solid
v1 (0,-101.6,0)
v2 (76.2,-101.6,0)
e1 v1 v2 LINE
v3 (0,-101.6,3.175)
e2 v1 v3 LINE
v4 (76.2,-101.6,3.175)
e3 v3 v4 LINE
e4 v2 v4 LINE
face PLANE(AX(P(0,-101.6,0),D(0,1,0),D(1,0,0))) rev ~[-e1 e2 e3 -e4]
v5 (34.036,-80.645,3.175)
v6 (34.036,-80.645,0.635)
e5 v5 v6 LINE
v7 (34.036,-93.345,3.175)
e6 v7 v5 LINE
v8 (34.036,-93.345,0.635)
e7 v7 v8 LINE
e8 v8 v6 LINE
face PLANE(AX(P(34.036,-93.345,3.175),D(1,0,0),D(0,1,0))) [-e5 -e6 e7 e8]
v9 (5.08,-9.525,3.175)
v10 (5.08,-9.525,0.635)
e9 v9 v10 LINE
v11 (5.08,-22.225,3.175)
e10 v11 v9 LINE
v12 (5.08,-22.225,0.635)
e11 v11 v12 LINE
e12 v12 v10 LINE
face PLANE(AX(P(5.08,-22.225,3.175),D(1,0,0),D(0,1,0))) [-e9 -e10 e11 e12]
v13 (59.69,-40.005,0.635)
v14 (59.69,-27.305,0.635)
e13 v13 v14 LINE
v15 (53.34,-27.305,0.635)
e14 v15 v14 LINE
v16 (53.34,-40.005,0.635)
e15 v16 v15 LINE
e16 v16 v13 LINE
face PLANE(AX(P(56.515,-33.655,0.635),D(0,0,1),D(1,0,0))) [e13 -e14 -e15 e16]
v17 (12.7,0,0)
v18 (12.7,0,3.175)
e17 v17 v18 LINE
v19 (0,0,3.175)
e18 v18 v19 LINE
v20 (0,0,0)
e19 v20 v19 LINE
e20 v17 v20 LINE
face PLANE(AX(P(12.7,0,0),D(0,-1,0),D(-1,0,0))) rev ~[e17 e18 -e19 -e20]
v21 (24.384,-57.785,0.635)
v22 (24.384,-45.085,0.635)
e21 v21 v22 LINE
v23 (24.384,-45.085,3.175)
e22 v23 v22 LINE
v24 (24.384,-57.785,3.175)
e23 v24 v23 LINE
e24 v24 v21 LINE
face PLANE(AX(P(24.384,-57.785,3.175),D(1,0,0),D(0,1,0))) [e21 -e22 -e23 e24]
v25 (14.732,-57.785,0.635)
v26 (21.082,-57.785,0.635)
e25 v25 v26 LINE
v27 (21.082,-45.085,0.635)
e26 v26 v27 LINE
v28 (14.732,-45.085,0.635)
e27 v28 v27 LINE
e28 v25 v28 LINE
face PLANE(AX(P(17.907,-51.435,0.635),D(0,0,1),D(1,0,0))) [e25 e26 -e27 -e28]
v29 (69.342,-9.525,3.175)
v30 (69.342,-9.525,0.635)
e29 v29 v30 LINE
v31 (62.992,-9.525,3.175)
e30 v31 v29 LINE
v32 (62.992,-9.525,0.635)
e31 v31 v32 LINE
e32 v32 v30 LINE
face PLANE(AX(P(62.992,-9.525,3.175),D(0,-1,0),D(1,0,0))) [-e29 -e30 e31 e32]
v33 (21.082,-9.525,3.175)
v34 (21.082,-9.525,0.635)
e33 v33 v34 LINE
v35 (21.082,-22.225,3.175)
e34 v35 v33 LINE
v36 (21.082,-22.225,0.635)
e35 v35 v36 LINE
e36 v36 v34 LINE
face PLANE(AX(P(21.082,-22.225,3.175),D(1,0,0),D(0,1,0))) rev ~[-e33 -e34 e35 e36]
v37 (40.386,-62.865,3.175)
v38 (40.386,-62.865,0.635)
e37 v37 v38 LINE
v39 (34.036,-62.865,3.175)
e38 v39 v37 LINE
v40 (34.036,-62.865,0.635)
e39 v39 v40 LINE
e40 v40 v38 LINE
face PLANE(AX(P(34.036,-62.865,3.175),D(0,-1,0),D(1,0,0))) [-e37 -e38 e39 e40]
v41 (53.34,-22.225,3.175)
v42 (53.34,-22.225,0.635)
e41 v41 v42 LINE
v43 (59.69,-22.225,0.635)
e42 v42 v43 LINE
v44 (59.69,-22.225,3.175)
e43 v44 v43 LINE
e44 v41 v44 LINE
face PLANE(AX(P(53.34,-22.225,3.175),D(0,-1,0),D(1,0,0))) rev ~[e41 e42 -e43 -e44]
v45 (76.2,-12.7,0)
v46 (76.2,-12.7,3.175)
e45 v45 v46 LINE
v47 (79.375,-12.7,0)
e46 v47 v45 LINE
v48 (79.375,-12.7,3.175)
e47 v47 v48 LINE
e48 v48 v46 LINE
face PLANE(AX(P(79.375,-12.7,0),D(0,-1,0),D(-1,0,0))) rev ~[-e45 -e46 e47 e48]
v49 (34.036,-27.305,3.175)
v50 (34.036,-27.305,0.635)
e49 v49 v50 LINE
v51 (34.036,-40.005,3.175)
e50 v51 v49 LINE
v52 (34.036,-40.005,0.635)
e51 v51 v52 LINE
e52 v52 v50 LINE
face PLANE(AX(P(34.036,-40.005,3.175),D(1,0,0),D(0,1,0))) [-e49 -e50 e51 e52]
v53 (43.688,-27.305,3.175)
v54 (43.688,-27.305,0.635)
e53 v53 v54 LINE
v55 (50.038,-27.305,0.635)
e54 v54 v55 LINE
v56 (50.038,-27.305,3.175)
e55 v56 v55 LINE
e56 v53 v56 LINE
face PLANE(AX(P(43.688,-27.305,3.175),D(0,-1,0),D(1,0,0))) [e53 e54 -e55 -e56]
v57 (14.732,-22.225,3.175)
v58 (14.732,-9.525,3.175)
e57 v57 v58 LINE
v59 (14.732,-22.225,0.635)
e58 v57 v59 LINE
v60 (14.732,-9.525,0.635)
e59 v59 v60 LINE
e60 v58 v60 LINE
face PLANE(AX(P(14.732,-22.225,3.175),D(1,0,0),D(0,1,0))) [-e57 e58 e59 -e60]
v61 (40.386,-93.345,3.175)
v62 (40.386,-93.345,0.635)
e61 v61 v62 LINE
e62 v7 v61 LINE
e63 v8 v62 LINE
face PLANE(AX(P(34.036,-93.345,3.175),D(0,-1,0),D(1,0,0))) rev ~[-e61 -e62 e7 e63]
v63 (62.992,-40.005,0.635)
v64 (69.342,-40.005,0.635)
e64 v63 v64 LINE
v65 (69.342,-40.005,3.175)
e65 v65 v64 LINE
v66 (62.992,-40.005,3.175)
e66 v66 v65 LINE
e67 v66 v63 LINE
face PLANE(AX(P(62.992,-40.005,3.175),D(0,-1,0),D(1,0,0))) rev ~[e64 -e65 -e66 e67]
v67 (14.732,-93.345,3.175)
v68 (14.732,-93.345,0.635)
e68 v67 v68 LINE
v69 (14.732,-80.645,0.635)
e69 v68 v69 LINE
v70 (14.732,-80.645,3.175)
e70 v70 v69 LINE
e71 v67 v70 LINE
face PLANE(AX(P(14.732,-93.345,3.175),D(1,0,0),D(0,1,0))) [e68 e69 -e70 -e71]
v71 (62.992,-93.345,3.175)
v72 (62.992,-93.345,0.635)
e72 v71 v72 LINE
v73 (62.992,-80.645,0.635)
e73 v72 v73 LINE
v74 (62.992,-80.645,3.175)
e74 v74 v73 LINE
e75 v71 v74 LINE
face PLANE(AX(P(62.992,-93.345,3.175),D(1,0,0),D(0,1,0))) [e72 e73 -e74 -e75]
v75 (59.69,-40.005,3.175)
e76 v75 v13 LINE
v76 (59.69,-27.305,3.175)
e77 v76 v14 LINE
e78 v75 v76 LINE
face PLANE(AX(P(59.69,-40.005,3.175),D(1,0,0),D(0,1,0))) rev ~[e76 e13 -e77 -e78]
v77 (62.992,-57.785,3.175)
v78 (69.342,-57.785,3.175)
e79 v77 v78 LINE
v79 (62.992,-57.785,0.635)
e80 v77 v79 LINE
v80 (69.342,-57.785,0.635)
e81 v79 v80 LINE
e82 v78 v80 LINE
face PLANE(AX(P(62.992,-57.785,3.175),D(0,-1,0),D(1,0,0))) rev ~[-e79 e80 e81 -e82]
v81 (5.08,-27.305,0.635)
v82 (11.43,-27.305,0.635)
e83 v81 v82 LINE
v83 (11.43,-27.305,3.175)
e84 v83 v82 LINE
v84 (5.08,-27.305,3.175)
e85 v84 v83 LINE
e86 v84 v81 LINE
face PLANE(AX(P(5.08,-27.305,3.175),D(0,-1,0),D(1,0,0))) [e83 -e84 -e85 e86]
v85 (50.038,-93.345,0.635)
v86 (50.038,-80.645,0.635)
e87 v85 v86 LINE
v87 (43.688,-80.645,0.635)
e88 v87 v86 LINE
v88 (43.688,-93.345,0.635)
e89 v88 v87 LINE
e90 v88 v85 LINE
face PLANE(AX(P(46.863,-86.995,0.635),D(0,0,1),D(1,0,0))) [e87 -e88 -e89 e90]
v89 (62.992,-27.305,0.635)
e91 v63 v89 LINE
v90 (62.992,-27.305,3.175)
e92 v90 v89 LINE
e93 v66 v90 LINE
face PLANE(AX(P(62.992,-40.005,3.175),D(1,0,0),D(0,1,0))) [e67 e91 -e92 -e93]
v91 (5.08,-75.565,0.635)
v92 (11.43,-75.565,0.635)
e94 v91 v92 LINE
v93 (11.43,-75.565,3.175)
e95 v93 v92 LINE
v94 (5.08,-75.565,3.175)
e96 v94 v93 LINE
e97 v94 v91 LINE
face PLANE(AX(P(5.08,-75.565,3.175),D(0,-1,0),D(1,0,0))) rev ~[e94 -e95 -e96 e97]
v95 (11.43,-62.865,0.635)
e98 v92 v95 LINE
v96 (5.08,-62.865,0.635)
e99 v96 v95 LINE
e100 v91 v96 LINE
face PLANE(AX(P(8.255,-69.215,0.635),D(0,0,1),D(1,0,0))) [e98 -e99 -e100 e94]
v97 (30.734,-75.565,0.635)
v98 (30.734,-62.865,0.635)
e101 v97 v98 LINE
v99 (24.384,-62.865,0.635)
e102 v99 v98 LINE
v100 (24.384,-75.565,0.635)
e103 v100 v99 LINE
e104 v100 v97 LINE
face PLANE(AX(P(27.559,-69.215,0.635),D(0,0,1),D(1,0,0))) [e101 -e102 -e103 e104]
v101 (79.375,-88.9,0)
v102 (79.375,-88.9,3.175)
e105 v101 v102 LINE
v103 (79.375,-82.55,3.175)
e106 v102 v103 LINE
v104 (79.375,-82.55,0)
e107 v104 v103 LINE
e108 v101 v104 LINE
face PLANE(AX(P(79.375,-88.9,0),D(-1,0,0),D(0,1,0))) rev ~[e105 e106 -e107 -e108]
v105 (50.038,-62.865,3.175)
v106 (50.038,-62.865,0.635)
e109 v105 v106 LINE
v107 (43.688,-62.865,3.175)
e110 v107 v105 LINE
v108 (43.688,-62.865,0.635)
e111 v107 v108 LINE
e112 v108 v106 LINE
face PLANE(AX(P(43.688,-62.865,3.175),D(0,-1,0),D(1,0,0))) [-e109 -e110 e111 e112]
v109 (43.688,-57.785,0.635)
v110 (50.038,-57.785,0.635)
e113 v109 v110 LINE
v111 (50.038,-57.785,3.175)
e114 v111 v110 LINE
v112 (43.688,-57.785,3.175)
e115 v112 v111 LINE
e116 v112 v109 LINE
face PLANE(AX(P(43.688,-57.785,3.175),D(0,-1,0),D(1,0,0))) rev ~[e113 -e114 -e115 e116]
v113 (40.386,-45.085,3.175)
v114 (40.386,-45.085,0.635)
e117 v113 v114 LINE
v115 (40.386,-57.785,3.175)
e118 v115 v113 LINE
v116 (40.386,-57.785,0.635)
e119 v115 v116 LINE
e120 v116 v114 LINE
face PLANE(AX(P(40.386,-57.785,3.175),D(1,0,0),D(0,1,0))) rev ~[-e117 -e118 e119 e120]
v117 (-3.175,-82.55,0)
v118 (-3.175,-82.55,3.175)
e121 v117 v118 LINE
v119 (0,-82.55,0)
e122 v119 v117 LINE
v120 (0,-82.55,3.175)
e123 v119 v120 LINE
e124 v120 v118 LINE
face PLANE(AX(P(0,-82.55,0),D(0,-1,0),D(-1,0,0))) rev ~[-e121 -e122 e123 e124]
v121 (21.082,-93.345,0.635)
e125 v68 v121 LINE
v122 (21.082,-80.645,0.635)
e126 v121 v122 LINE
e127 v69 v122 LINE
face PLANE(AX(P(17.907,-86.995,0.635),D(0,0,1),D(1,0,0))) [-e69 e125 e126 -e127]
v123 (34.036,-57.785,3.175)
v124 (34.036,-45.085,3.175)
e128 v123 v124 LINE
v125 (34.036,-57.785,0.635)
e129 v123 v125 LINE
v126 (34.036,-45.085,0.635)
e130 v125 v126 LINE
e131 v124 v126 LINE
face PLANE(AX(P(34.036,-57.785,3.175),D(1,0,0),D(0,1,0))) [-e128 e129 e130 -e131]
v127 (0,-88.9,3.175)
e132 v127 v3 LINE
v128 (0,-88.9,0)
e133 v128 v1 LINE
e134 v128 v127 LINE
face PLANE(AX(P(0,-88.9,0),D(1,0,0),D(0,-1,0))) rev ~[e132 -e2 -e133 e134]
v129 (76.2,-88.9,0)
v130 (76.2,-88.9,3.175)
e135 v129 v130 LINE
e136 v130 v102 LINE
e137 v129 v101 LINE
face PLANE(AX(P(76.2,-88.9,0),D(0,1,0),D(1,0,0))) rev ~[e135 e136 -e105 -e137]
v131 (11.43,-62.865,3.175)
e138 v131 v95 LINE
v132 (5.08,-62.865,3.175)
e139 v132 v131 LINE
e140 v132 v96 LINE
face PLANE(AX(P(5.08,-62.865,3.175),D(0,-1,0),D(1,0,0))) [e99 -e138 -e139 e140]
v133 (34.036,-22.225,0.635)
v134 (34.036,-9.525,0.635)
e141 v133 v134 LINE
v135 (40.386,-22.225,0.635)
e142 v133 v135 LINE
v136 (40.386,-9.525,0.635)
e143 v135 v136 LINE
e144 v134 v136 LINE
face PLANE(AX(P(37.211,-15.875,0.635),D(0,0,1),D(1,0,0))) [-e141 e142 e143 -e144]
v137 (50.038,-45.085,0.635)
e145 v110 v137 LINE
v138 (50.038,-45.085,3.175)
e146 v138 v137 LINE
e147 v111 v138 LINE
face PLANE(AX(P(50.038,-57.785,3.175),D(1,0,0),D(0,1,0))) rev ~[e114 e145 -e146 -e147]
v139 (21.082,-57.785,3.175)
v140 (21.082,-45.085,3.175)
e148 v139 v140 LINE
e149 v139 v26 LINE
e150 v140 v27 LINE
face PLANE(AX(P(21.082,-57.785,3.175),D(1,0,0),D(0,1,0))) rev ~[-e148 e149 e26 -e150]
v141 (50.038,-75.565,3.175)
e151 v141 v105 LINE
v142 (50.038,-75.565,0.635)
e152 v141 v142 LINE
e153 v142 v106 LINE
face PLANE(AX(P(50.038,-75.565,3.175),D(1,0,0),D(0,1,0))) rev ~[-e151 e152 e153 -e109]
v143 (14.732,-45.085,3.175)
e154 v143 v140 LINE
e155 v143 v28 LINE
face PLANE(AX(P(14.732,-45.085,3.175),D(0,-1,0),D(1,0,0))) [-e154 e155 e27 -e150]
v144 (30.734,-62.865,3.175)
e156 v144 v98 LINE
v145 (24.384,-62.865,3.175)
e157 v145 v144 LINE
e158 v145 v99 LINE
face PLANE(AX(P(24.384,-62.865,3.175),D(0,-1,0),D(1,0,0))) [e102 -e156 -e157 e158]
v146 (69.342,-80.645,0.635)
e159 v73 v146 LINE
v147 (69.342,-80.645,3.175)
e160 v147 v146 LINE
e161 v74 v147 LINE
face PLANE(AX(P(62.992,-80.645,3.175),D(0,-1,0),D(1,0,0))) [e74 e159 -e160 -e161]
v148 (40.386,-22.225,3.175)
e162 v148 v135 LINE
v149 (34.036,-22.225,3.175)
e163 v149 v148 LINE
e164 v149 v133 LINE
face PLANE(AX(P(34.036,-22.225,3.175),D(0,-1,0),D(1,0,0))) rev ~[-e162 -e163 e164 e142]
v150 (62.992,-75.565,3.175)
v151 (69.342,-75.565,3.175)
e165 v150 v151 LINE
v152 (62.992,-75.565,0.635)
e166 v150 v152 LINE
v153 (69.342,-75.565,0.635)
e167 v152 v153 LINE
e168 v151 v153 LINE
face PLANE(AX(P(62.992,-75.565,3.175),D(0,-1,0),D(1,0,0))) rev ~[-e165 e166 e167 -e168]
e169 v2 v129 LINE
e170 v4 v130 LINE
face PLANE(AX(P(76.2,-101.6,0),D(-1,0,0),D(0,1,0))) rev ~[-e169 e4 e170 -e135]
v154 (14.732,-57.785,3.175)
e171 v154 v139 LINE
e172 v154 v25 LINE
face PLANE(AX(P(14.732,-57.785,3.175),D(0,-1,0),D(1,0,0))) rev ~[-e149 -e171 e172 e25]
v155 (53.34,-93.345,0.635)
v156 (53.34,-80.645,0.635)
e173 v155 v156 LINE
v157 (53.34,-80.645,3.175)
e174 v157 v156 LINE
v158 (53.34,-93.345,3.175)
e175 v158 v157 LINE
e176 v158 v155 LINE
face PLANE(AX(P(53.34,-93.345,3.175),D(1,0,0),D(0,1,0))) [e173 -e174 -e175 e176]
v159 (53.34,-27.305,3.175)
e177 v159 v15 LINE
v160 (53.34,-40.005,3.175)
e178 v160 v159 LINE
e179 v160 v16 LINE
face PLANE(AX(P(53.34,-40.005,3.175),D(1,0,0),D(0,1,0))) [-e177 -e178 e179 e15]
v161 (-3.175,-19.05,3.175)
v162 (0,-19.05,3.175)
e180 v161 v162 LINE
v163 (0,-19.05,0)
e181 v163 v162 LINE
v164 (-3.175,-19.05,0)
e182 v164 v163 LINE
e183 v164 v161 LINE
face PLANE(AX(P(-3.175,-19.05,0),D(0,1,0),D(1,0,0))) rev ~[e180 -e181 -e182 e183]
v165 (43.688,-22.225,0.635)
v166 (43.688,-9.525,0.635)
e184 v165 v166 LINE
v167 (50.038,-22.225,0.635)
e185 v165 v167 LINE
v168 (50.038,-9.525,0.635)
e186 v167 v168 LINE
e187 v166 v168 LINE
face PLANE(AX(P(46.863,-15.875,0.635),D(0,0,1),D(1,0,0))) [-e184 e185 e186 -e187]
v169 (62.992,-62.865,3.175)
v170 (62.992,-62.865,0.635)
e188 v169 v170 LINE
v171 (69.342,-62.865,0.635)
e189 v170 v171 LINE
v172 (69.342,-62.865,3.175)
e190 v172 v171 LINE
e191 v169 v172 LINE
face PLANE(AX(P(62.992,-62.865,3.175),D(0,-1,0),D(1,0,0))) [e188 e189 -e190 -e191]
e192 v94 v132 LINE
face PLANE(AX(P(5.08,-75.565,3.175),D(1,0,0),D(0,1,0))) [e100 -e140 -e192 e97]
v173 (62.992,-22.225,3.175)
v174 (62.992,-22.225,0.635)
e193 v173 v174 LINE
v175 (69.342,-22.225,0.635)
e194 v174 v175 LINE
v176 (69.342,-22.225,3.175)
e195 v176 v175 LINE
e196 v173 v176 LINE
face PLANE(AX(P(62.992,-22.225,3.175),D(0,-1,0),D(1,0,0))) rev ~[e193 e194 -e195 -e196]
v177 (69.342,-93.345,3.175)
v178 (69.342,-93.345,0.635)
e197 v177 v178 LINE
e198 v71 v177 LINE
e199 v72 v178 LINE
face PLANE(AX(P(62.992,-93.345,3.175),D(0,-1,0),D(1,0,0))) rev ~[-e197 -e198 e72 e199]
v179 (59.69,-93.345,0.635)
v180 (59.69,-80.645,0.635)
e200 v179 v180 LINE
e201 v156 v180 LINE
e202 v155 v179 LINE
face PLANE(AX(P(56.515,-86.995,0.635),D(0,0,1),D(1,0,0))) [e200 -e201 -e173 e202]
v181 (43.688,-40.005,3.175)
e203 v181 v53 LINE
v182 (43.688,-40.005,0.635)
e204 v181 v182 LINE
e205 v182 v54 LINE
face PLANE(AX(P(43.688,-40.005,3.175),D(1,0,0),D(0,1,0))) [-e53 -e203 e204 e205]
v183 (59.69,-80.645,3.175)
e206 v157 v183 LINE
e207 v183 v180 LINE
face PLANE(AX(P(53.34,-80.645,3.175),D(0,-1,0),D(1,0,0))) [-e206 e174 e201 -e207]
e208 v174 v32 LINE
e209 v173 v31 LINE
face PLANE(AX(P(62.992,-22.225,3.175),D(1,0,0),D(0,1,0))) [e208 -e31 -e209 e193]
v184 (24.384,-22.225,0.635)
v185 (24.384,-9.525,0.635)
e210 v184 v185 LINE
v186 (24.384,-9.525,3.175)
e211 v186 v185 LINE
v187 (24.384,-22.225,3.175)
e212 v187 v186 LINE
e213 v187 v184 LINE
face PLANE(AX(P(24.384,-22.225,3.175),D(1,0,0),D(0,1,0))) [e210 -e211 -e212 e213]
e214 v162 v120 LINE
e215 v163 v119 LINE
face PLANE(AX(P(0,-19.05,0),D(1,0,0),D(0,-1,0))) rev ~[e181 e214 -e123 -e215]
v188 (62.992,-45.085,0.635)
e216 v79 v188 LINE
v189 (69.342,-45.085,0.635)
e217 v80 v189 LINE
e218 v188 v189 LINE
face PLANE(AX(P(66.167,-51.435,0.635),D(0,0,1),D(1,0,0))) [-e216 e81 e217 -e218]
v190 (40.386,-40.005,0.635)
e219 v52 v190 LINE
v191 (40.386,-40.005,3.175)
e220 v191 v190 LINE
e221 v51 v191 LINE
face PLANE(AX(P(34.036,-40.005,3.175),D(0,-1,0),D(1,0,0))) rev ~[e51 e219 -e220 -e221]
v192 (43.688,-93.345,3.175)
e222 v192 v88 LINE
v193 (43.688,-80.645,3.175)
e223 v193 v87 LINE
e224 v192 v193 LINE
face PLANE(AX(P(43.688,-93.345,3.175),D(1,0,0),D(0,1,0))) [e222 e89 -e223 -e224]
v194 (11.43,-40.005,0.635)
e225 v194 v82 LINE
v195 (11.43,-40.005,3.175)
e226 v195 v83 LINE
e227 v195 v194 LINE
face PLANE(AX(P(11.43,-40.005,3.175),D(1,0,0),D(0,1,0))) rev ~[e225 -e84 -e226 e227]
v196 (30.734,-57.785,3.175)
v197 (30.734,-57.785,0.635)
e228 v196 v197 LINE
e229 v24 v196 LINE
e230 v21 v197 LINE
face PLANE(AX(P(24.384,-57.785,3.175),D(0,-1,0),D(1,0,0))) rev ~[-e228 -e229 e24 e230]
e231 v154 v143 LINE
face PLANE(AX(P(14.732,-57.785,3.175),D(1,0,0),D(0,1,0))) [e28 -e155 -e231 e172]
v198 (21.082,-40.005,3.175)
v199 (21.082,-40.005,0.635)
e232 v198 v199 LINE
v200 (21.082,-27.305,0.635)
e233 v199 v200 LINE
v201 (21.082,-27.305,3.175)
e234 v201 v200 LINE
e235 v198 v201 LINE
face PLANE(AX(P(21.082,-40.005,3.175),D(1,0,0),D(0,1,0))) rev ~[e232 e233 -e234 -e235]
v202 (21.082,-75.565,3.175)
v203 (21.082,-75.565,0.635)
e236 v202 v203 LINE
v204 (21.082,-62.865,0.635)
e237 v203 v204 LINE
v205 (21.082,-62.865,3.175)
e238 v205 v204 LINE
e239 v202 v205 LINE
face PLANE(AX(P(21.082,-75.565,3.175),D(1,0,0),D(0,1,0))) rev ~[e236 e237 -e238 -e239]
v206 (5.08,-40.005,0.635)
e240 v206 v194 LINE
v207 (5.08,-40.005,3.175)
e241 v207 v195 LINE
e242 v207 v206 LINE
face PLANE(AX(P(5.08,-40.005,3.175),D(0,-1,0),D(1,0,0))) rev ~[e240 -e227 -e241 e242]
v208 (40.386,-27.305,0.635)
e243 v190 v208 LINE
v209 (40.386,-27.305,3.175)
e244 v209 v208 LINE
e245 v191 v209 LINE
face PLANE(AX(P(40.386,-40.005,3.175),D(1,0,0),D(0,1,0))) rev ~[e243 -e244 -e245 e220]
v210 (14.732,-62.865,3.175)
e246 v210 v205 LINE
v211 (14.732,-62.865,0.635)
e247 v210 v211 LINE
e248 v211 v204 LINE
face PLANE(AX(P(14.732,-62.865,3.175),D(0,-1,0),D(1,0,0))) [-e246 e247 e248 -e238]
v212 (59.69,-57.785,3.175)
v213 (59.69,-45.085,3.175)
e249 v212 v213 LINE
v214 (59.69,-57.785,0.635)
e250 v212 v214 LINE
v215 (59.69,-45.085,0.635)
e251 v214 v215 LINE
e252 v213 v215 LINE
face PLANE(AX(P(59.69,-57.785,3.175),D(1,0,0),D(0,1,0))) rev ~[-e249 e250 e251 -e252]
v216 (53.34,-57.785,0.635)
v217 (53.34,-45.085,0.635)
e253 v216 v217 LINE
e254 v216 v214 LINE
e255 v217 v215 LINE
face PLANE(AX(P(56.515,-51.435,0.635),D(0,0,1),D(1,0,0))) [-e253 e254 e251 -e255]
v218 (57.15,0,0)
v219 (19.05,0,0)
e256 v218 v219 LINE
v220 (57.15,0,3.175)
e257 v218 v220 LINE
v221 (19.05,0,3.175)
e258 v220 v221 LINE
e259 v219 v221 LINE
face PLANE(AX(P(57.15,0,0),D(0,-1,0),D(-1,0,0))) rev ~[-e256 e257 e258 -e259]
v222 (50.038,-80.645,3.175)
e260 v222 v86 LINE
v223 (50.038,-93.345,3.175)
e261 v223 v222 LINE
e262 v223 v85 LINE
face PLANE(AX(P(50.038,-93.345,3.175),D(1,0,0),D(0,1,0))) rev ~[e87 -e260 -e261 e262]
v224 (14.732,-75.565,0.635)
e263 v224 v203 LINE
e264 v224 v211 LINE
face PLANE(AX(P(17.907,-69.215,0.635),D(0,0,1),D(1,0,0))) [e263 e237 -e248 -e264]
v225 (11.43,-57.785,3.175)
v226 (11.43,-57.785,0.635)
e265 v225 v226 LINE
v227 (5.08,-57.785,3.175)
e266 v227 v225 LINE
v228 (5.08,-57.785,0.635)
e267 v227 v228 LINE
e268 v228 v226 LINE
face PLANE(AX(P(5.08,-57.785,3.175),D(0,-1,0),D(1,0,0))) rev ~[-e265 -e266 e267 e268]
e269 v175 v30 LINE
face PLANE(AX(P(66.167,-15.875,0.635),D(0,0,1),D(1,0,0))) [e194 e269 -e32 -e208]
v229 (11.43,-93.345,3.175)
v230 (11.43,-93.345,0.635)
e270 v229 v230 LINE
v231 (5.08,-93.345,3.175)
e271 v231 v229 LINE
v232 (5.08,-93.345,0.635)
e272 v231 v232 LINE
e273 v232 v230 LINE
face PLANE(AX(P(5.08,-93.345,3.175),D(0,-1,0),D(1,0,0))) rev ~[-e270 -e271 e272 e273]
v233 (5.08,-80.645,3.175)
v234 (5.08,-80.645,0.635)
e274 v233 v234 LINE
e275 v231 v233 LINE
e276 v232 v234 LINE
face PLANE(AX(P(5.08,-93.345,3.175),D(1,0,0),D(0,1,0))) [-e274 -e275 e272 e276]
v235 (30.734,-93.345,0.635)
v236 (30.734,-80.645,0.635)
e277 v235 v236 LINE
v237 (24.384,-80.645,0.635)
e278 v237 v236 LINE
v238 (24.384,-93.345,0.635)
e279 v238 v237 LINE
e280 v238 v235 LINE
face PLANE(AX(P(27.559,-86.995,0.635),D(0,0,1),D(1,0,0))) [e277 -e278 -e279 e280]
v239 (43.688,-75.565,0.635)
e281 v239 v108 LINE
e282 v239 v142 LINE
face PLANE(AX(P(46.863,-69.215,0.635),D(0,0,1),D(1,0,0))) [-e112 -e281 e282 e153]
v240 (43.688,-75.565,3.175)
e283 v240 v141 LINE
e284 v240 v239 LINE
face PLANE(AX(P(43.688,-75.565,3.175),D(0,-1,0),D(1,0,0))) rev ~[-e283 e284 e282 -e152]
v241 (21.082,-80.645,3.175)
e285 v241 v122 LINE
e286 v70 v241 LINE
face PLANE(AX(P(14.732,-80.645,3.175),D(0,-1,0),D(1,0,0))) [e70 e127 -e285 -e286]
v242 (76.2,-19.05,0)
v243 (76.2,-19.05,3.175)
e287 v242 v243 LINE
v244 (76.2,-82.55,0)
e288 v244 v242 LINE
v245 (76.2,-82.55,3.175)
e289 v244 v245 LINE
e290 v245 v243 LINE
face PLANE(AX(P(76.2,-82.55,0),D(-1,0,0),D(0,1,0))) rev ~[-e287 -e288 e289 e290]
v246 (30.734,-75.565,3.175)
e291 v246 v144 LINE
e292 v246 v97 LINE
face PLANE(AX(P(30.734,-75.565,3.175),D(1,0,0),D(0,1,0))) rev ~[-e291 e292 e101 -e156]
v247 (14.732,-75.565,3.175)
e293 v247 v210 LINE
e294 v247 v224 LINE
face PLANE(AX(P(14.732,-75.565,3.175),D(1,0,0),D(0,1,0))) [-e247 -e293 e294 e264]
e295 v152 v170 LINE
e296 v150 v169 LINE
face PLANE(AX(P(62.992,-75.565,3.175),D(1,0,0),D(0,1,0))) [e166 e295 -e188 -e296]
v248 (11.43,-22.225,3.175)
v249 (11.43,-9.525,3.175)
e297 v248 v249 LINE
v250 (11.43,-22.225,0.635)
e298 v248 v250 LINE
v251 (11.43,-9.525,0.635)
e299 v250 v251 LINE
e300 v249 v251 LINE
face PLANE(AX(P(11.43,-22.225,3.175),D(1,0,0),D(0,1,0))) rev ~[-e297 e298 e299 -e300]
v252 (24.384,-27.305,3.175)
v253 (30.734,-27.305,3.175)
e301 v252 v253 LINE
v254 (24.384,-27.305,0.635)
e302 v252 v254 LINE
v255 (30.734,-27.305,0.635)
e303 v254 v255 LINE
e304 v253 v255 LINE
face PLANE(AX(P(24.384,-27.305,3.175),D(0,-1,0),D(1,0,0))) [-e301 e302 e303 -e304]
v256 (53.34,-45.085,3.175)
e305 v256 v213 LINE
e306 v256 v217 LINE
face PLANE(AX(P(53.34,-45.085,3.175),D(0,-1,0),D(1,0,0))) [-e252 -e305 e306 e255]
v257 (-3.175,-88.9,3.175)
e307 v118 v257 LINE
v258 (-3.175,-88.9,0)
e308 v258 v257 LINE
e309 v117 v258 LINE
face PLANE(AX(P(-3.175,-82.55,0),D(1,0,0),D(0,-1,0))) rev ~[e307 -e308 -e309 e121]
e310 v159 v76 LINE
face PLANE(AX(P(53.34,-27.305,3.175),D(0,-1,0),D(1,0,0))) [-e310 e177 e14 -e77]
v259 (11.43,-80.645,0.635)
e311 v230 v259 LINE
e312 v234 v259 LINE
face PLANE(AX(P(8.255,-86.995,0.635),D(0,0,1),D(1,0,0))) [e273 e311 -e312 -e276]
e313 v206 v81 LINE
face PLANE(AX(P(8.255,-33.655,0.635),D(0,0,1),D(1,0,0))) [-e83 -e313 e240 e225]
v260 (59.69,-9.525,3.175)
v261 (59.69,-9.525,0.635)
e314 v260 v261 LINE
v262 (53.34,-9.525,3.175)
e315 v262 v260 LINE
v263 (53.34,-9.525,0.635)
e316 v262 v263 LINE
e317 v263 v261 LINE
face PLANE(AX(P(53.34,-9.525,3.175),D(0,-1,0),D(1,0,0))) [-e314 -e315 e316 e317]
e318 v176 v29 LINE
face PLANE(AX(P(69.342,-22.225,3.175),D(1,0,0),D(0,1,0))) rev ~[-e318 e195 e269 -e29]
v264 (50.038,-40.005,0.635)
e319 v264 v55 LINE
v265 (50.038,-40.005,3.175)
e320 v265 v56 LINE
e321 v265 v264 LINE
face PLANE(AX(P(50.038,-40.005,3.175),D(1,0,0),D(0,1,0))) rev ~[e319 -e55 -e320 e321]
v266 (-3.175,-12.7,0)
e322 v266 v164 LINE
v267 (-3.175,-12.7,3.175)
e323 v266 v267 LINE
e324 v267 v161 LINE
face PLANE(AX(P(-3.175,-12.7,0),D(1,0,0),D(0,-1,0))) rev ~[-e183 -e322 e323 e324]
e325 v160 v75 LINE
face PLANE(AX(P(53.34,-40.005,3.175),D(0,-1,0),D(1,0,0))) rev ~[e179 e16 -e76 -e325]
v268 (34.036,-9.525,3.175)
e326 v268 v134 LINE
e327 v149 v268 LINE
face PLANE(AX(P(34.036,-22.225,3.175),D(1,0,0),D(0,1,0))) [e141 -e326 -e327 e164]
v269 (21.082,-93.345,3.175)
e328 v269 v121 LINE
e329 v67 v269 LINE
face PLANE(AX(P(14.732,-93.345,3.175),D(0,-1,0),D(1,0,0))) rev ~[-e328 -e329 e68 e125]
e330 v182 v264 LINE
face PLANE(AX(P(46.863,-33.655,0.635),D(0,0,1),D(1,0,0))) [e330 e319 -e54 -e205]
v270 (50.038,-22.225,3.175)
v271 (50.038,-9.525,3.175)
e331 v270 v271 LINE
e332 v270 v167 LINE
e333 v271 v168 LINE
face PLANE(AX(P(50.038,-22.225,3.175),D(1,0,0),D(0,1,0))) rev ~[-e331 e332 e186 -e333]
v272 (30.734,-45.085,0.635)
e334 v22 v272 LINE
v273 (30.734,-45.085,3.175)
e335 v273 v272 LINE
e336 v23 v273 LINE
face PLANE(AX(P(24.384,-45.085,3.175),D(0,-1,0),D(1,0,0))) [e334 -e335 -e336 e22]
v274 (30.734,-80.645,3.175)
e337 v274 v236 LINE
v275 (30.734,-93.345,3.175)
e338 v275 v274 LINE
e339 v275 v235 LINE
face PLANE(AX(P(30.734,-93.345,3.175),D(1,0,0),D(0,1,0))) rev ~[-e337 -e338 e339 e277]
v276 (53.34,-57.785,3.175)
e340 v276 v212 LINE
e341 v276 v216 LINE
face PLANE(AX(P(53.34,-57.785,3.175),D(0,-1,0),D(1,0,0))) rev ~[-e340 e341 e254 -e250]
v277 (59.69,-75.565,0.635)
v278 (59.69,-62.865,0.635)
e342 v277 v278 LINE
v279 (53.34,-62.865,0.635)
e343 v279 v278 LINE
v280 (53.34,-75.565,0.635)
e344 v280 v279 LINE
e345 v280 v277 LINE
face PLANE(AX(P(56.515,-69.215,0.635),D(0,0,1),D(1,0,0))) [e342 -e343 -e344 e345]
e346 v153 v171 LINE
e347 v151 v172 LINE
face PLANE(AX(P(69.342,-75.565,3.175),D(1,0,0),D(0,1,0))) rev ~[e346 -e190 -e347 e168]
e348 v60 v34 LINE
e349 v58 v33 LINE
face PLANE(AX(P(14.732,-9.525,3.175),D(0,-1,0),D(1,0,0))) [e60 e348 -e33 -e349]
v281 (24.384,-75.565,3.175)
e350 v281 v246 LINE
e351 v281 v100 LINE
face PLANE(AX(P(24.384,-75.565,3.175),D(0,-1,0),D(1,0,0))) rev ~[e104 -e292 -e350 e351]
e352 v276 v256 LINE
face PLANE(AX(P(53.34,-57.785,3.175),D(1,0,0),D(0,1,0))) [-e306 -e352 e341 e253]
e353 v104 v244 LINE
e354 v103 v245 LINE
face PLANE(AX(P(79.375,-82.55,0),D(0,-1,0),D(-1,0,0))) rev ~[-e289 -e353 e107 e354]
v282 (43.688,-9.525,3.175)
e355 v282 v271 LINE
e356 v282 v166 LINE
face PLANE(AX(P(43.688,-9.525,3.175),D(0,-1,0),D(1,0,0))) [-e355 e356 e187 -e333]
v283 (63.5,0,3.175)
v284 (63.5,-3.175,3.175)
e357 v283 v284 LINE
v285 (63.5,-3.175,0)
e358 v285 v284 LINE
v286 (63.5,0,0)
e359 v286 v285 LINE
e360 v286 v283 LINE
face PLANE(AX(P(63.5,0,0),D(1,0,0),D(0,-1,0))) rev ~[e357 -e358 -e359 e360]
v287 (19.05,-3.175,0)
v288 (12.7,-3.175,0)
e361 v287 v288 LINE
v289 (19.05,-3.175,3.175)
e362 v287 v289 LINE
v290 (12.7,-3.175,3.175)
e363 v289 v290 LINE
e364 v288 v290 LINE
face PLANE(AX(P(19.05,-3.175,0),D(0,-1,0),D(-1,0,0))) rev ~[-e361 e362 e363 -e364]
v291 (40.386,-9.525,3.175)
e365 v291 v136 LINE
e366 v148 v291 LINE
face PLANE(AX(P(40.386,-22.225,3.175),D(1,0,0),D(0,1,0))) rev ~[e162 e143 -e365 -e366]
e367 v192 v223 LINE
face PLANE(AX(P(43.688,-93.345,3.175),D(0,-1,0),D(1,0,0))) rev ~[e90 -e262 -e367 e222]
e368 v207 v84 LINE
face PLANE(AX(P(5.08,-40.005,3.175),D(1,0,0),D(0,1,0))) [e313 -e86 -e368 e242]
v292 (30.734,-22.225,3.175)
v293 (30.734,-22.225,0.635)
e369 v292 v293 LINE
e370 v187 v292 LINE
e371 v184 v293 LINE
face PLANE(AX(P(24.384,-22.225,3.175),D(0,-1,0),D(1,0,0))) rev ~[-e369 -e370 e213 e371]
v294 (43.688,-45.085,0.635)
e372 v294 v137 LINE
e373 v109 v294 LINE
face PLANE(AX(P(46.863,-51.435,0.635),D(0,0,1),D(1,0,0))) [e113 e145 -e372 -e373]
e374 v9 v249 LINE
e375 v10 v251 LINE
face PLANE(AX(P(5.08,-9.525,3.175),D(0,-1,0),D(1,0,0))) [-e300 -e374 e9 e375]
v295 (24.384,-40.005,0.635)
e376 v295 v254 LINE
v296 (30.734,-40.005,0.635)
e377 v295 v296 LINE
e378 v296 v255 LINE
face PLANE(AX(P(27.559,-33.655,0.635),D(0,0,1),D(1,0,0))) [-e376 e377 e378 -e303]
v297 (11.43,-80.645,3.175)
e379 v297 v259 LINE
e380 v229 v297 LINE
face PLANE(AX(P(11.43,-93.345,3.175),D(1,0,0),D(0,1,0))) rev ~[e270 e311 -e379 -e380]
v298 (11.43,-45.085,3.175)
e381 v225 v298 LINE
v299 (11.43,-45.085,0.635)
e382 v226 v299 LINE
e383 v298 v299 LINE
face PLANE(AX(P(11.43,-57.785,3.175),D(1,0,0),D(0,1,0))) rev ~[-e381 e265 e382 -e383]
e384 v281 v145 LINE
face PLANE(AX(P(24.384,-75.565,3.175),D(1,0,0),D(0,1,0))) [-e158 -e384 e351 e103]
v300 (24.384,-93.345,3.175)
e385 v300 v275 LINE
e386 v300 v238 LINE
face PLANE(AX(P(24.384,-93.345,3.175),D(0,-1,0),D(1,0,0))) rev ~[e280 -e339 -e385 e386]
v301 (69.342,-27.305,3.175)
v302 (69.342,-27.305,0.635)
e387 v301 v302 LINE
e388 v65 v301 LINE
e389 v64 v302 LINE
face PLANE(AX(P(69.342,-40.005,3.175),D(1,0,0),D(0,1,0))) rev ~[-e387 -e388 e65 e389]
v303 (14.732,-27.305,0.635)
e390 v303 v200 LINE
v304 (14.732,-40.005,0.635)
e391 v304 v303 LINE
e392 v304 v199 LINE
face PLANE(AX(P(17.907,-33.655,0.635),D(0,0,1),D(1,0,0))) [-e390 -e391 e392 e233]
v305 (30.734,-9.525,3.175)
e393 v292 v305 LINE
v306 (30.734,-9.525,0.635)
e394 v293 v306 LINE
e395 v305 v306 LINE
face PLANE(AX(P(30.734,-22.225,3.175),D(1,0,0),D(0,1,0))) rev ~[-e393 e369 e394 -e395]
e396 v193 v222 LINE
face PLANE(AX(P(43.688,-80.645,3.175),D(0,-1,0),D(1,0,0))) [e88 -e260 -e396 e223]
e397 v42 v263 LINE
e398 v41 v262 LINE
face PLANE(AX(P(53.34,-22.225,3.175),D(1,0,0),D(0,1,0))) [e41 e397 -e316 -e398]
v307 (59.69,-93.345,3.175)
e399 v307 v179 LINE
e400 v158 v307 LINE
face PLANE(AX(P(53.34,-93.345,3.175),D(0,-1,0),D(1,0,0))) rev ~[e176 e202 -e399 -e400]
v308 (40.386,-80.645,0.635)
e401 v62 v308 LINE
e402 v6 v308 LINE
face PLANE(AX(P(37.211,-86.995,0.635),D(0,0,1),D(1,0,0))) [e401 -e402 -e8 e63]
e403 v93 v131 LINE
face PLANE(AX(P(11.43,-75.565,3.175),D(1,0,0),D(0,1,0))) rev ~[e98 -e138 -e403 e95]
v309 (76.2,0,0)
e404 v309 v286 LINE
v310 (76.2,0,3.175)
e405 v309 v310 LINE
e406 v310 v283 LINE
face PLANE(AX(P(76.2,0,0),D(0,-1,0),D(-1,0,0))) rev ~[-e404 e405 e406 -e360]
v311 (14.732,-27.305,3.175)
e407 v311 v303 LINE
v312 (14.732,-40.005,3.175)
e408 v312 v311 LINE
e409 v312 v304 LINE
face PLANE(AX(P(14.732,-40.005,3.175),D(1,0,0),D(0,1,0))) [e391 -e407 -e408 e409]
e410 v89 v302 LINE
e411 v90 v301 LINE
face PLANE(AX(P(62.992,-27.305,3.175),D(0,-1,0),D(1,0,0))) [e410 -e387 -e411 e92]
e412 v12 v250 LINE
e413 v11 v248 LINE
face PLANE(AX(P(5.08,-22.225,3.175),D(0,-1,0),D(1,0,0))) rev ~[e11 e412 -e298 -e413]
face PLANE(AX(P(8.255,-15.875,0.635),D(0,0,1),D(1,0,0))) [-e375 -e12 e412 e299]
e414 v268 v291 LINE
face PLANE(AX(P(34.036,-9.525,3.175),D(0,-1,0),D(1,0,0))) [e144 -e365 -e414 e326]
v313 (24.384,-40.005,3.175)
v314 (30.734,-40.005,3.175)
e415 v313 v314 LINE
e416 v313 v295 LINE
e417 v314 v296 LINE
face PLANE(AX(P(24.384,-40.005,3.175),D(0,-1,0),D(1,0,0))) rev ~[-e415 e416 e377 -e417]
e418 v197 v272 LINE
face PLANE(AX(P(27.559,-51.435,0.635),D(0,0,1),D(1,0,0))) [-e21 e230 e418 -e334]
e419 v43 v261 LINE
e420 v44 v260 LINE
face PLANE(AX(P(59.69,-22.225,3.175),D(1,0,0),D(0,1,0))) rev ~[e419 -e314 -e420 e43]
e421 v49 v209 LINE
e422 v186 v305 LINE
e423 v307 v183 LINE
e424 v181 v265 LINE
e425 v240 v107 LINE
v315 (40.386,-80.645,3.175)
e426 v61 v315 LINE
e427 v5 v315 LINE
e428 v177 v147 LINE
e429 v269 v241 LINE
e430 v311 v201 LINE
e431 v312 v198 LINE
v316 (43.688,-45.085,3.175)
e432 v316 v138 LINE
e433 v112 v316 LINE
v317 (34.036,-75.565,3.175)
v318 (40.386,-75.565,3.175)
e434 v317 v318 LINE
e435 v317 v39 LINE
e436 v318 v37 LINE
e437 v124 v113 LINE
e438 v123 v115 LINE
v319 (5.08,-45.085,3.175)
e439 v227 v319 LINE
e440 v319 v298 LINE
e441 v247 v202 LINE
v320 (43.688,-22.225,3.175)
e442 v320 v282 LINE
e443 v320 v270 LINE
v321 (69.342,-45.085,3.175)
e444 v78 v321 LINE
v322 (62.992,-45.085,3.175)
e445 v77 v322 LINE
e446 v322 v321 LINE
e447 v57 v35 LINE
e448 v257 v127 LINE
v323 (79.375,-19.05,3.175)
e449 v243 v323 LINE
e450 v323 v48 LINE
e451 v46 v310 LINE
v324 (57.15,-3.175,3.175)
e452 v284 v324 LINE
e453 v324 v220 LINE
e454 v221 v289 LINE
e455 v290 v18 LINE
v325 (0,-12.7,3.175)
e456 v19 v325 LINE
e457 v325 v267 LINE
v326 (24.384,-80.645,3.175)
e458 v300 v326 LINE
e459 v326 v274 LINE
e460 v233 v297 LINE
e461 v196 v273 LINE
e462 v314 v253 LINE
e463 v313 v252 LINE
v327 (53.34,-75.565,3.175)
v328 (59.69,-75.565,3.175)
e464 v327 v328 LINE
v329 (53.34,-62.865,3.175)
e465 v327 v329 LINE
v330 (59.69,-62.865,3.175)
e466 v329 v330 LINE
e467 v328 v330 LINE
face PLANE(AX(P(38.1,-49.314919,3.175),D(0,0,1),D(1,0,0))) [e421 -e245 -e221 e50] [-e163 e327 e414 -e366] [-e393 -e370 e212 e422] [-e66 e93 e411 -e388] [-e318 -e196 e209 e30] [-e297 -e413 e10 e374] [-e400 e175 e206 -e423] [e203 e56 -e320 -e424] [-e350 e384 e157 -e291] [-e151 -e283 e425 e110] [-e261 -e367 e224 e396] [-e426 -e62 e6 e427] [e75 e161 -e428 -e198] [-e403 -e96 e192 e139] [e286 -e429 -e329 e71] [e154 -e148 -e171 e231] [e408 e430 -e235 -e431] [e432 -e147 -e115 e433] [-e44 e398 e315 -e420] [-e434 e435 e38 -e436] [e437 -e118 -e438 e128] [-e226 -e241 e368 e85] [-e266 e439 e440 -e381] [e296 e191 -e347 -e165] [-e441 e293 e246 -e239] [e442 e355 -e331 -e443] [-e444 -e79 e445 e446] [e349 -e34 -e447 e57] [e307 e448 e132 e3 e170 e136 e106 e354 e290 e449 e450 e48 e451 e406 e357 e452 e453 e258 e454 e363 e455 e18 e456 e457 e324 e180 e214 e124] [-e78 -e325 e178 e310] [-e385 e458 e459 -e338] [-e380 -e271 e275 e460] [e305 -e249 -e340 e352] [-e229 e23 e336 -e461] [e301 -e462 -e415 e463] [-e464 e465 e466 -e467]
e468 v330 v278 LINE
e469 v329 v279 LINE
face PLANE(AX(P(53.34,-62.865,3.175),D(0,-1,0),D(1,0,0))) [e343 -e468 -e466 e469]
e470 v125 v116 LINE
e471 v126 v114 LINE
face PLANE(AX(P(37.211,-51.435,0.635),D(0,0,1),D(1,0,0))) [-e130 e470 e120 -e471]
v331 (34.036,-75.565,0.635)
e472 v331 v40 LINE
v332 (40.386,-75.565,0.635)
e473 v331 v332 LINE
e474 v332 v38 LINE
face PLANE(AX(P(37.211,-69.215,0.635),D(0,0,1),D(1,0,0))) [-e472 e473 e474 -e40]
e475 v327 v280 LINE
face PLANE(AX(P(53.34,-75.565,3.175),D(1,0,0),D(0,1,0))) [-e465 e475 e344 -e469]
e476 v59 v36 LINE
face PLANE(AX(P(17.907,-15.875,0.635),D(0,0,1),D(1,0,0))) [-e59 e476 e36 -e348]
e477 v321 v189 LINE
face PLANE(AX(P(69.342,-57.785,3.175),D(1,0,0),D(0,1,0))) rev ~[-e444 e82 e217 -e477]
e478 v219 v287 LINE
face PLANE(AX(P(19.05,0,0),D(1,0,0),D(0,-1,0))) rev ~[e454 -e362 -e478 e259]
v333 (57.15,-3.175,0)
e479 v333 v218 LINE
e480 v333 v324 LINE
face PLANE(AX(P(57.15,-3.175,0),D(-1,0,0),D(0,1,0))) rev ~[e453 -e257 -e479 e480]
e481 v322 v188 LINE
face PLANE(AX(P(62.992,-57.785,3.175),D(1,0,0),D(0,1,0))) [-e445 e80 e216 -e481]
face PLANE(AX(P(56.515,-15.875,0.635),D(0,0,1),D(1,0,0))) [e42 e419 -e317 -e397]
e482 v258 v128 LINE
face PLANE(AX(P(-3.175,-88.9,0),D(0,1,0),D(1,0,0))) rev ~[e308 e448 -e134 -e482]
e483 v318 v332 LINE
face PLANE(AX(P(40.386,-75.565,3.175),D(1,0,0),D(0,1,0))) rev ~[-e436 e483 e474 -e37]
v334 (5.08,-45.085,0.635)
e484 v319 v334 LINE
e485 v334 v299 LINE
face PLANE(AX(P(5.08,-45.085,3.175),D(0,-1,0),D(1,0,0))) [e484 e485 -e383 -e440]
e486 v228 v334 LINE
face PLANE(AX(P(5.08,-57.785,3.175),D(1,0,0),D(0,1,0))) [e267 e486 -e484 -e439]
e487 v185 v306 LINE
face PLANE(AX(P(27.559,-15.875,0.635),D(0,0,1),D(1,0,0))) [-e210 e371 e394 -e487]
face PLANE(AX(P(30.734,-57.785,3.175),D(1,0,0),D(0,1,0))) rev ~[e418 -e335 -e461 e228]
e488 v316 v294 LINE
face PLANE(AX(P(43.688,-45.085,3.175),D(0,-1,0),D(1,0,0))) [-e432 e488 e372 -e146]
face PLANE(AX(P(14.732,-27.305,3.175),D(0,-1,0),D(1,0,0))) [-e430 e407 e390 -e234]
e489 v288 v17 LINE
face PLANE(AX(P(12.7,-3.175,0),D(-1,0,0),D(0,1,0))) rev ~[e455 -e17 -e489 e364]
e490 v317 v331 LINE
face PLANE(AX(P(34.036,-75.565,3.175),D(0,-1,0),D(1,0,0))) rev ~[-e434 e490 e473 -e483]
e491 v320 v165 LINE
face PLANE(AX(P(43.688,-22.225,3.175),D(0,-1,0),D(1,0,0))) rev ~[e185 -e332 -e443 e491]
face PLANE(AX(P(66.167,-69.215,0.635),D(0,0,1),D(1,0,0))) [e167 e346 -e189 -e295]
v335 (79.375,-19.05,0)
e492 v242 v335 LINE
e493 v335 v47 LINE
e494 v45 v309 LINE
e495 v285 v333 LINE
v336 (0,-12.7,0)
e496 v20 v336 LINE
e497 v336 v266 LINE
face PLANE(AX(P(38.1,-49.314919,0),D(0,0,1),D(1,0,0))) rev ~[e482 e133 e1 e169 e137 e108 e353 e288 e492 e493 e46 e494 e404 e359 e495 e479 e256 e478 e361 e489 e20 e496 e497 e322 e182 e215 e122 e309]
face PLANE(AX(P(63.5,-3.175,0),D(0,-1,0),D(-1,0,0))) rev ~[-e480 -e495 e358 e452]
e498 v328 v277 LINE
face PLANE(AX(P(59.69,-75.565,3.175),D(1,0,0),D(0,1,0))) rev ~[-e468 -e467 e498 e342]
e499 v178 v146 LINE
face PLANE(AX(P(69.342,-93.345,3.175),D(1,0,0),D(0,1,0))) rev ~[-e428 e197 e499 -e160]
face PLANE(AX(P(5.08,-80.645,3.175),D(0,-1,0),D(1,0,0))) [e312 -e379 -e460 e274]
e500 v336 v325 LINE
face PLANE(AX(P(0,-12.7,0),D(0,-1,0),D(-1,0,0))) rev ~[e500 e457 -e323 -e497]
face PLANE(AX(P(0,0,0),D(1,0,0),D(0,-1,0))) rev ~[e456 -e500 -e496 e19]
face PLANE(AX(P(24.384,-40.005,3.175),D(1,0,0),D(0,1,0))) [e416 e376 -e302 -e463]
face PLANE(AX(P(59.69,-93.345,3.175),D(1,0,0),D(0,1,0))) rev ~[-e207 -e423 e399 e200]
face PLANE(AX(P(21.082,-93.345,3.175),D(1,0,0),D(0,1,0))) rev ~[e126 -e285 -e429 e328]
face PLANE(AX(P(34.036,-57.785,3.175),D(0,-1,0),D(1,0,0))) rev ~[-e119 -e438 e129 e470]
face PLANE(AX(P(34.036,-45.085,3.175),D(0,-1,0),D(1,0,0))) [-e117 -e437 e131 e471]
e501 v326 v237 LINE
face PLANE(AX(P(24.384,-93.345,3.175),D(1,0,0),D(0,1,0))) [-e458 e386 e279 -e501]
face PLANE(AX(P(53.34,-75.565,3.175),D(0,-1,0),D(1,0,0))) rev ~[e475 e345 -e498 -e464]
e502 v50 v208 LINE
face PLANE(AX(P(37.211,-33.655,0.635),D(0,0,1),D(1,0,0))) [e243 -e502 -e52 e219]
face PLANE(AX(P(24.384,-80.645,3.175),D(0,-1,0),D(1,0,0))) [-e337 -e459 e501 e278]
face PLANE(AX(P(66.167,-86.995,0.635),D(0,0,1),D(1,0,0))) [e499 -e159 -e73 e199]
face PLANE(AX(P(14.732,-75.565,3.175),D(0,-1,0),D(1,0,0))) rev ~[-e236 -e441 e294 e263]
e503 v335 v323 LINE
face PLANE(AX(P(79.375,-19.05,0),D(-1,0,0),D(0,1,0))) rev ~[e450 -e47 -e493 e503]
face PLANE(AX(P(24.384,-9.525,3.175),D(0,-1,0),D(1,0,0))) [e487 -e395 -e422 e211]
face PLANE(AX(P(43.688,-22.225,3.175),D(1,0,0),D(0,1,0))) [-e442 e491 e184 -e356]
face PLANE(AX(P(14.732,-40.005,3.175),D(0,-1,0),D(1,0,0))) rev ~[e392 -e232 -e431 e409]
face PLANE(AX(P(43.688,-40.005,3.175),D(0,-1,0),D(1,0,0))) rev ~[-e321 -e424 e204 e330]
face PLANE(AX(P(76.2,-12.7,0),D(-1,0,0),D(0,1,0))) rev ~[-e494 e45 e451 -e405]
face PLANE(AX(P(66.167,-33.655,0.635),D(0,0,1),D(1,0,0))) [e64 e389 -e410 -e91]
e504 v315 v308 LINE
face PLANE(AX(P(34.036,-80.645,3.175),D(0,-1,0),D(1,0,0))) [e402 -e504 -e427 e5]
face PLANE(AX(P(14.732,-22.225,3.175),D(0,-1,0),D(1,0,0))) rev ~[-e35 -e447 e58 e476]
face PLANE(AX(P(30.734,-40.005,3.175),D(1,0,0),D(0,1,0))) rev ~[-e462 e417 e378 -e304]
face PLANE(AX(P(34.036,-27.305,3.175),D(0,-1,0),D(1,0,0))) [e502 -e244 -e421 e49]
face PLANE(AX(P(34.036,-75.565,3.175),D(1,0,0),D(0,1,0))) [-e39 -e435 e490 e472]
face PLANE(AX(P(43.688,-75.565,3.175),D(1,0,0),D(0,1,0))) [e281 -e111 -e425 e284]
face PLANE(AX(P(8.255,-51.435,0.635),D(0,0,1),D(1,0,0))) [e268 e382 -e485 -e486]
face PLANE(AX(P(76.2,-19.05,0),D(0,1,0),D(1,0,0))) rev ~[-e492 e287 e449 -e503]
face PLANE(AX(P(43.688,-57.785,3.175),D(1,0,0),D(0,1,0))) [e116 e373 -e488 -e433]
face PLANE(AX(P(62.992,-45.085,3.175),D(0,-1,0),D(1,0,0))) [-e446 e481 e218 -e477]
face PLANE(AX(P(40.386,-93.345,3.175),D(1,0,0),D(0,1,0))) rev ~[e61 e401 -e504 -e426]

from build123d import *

# Parameters (mm, degrees)
BOSS_EXTRUDE1_DEPTH  = 3.175
SKETCH2_W            = 6.35
SKETCH2_H            = 12.7
CUT_EXTRUDE1_DEPTH   = 2.54
LPATTERN1_COUNT      = 7
LPATTERN1_PITCH      = 9.652
LPATTERN1_COUNT_DIR2 = 5
LPATTERN1_PITCH_DIR2 = 17.78


with BuildPart() as part:
    # Sketch1 → Boss-Extrude1 (new body)
    with BuildSketch(Plane.XY):
        Polygon((57.15, 0), (19.05, 0), (19.05, -3.175), (12.7, -3.175), (12.7, 0), (0, 0), (0, -12.7), (-3.175, -12.7), (-3.175, -19.05), (0, -19.05), (0, -82.55), (-3.175, -82.55), (-3.175, -88.9), (0, -88.9), (0, -101.6), (12.7, -101.6), (63.5, -101.6), (76.2, -101.6), (76.2, -88.9), (79.375, -88.9), (79.375, -82.55), (76.2, -82.55), (76.2, -19.05), (79.375, -19.05), (79.375, -12.7), (76.2, -12.7), (76.2, 0), (63.5, 0), (63.5, -3.175), (57.15, -3.175), align=None)
    extrude(amount=BOSS_EXTRUDE1_DEPTH)

    # Sketch2 → Cut-Extrude1 (cut)
    with BuildSketch(Plane.XY.offset(3.175)):
        with Locations((8.255, -15.875)):
            Rectangle(SKETCH2_W, SKETCH2_H)
    cut_extrude1 = extrude(amount=-CUT_EXTRUDE1_DEPTH, mode=Mode.SUBTRACT)

    # LPattern1: Cut-Extrude1 7 × 5
    with Locations(*[(i * LPATTERN1_PITCH, -j * LPATTERN1_PITCH_DIR2, 0) for i in range(LPATTERN1_COUNT) for j in range(LPATTERN1_COUNT_DIR2) if (i, j) != (0, 0)]):
        add(cut_extrude1, mode=Mode.SUBTRACT)


solid = part.part
